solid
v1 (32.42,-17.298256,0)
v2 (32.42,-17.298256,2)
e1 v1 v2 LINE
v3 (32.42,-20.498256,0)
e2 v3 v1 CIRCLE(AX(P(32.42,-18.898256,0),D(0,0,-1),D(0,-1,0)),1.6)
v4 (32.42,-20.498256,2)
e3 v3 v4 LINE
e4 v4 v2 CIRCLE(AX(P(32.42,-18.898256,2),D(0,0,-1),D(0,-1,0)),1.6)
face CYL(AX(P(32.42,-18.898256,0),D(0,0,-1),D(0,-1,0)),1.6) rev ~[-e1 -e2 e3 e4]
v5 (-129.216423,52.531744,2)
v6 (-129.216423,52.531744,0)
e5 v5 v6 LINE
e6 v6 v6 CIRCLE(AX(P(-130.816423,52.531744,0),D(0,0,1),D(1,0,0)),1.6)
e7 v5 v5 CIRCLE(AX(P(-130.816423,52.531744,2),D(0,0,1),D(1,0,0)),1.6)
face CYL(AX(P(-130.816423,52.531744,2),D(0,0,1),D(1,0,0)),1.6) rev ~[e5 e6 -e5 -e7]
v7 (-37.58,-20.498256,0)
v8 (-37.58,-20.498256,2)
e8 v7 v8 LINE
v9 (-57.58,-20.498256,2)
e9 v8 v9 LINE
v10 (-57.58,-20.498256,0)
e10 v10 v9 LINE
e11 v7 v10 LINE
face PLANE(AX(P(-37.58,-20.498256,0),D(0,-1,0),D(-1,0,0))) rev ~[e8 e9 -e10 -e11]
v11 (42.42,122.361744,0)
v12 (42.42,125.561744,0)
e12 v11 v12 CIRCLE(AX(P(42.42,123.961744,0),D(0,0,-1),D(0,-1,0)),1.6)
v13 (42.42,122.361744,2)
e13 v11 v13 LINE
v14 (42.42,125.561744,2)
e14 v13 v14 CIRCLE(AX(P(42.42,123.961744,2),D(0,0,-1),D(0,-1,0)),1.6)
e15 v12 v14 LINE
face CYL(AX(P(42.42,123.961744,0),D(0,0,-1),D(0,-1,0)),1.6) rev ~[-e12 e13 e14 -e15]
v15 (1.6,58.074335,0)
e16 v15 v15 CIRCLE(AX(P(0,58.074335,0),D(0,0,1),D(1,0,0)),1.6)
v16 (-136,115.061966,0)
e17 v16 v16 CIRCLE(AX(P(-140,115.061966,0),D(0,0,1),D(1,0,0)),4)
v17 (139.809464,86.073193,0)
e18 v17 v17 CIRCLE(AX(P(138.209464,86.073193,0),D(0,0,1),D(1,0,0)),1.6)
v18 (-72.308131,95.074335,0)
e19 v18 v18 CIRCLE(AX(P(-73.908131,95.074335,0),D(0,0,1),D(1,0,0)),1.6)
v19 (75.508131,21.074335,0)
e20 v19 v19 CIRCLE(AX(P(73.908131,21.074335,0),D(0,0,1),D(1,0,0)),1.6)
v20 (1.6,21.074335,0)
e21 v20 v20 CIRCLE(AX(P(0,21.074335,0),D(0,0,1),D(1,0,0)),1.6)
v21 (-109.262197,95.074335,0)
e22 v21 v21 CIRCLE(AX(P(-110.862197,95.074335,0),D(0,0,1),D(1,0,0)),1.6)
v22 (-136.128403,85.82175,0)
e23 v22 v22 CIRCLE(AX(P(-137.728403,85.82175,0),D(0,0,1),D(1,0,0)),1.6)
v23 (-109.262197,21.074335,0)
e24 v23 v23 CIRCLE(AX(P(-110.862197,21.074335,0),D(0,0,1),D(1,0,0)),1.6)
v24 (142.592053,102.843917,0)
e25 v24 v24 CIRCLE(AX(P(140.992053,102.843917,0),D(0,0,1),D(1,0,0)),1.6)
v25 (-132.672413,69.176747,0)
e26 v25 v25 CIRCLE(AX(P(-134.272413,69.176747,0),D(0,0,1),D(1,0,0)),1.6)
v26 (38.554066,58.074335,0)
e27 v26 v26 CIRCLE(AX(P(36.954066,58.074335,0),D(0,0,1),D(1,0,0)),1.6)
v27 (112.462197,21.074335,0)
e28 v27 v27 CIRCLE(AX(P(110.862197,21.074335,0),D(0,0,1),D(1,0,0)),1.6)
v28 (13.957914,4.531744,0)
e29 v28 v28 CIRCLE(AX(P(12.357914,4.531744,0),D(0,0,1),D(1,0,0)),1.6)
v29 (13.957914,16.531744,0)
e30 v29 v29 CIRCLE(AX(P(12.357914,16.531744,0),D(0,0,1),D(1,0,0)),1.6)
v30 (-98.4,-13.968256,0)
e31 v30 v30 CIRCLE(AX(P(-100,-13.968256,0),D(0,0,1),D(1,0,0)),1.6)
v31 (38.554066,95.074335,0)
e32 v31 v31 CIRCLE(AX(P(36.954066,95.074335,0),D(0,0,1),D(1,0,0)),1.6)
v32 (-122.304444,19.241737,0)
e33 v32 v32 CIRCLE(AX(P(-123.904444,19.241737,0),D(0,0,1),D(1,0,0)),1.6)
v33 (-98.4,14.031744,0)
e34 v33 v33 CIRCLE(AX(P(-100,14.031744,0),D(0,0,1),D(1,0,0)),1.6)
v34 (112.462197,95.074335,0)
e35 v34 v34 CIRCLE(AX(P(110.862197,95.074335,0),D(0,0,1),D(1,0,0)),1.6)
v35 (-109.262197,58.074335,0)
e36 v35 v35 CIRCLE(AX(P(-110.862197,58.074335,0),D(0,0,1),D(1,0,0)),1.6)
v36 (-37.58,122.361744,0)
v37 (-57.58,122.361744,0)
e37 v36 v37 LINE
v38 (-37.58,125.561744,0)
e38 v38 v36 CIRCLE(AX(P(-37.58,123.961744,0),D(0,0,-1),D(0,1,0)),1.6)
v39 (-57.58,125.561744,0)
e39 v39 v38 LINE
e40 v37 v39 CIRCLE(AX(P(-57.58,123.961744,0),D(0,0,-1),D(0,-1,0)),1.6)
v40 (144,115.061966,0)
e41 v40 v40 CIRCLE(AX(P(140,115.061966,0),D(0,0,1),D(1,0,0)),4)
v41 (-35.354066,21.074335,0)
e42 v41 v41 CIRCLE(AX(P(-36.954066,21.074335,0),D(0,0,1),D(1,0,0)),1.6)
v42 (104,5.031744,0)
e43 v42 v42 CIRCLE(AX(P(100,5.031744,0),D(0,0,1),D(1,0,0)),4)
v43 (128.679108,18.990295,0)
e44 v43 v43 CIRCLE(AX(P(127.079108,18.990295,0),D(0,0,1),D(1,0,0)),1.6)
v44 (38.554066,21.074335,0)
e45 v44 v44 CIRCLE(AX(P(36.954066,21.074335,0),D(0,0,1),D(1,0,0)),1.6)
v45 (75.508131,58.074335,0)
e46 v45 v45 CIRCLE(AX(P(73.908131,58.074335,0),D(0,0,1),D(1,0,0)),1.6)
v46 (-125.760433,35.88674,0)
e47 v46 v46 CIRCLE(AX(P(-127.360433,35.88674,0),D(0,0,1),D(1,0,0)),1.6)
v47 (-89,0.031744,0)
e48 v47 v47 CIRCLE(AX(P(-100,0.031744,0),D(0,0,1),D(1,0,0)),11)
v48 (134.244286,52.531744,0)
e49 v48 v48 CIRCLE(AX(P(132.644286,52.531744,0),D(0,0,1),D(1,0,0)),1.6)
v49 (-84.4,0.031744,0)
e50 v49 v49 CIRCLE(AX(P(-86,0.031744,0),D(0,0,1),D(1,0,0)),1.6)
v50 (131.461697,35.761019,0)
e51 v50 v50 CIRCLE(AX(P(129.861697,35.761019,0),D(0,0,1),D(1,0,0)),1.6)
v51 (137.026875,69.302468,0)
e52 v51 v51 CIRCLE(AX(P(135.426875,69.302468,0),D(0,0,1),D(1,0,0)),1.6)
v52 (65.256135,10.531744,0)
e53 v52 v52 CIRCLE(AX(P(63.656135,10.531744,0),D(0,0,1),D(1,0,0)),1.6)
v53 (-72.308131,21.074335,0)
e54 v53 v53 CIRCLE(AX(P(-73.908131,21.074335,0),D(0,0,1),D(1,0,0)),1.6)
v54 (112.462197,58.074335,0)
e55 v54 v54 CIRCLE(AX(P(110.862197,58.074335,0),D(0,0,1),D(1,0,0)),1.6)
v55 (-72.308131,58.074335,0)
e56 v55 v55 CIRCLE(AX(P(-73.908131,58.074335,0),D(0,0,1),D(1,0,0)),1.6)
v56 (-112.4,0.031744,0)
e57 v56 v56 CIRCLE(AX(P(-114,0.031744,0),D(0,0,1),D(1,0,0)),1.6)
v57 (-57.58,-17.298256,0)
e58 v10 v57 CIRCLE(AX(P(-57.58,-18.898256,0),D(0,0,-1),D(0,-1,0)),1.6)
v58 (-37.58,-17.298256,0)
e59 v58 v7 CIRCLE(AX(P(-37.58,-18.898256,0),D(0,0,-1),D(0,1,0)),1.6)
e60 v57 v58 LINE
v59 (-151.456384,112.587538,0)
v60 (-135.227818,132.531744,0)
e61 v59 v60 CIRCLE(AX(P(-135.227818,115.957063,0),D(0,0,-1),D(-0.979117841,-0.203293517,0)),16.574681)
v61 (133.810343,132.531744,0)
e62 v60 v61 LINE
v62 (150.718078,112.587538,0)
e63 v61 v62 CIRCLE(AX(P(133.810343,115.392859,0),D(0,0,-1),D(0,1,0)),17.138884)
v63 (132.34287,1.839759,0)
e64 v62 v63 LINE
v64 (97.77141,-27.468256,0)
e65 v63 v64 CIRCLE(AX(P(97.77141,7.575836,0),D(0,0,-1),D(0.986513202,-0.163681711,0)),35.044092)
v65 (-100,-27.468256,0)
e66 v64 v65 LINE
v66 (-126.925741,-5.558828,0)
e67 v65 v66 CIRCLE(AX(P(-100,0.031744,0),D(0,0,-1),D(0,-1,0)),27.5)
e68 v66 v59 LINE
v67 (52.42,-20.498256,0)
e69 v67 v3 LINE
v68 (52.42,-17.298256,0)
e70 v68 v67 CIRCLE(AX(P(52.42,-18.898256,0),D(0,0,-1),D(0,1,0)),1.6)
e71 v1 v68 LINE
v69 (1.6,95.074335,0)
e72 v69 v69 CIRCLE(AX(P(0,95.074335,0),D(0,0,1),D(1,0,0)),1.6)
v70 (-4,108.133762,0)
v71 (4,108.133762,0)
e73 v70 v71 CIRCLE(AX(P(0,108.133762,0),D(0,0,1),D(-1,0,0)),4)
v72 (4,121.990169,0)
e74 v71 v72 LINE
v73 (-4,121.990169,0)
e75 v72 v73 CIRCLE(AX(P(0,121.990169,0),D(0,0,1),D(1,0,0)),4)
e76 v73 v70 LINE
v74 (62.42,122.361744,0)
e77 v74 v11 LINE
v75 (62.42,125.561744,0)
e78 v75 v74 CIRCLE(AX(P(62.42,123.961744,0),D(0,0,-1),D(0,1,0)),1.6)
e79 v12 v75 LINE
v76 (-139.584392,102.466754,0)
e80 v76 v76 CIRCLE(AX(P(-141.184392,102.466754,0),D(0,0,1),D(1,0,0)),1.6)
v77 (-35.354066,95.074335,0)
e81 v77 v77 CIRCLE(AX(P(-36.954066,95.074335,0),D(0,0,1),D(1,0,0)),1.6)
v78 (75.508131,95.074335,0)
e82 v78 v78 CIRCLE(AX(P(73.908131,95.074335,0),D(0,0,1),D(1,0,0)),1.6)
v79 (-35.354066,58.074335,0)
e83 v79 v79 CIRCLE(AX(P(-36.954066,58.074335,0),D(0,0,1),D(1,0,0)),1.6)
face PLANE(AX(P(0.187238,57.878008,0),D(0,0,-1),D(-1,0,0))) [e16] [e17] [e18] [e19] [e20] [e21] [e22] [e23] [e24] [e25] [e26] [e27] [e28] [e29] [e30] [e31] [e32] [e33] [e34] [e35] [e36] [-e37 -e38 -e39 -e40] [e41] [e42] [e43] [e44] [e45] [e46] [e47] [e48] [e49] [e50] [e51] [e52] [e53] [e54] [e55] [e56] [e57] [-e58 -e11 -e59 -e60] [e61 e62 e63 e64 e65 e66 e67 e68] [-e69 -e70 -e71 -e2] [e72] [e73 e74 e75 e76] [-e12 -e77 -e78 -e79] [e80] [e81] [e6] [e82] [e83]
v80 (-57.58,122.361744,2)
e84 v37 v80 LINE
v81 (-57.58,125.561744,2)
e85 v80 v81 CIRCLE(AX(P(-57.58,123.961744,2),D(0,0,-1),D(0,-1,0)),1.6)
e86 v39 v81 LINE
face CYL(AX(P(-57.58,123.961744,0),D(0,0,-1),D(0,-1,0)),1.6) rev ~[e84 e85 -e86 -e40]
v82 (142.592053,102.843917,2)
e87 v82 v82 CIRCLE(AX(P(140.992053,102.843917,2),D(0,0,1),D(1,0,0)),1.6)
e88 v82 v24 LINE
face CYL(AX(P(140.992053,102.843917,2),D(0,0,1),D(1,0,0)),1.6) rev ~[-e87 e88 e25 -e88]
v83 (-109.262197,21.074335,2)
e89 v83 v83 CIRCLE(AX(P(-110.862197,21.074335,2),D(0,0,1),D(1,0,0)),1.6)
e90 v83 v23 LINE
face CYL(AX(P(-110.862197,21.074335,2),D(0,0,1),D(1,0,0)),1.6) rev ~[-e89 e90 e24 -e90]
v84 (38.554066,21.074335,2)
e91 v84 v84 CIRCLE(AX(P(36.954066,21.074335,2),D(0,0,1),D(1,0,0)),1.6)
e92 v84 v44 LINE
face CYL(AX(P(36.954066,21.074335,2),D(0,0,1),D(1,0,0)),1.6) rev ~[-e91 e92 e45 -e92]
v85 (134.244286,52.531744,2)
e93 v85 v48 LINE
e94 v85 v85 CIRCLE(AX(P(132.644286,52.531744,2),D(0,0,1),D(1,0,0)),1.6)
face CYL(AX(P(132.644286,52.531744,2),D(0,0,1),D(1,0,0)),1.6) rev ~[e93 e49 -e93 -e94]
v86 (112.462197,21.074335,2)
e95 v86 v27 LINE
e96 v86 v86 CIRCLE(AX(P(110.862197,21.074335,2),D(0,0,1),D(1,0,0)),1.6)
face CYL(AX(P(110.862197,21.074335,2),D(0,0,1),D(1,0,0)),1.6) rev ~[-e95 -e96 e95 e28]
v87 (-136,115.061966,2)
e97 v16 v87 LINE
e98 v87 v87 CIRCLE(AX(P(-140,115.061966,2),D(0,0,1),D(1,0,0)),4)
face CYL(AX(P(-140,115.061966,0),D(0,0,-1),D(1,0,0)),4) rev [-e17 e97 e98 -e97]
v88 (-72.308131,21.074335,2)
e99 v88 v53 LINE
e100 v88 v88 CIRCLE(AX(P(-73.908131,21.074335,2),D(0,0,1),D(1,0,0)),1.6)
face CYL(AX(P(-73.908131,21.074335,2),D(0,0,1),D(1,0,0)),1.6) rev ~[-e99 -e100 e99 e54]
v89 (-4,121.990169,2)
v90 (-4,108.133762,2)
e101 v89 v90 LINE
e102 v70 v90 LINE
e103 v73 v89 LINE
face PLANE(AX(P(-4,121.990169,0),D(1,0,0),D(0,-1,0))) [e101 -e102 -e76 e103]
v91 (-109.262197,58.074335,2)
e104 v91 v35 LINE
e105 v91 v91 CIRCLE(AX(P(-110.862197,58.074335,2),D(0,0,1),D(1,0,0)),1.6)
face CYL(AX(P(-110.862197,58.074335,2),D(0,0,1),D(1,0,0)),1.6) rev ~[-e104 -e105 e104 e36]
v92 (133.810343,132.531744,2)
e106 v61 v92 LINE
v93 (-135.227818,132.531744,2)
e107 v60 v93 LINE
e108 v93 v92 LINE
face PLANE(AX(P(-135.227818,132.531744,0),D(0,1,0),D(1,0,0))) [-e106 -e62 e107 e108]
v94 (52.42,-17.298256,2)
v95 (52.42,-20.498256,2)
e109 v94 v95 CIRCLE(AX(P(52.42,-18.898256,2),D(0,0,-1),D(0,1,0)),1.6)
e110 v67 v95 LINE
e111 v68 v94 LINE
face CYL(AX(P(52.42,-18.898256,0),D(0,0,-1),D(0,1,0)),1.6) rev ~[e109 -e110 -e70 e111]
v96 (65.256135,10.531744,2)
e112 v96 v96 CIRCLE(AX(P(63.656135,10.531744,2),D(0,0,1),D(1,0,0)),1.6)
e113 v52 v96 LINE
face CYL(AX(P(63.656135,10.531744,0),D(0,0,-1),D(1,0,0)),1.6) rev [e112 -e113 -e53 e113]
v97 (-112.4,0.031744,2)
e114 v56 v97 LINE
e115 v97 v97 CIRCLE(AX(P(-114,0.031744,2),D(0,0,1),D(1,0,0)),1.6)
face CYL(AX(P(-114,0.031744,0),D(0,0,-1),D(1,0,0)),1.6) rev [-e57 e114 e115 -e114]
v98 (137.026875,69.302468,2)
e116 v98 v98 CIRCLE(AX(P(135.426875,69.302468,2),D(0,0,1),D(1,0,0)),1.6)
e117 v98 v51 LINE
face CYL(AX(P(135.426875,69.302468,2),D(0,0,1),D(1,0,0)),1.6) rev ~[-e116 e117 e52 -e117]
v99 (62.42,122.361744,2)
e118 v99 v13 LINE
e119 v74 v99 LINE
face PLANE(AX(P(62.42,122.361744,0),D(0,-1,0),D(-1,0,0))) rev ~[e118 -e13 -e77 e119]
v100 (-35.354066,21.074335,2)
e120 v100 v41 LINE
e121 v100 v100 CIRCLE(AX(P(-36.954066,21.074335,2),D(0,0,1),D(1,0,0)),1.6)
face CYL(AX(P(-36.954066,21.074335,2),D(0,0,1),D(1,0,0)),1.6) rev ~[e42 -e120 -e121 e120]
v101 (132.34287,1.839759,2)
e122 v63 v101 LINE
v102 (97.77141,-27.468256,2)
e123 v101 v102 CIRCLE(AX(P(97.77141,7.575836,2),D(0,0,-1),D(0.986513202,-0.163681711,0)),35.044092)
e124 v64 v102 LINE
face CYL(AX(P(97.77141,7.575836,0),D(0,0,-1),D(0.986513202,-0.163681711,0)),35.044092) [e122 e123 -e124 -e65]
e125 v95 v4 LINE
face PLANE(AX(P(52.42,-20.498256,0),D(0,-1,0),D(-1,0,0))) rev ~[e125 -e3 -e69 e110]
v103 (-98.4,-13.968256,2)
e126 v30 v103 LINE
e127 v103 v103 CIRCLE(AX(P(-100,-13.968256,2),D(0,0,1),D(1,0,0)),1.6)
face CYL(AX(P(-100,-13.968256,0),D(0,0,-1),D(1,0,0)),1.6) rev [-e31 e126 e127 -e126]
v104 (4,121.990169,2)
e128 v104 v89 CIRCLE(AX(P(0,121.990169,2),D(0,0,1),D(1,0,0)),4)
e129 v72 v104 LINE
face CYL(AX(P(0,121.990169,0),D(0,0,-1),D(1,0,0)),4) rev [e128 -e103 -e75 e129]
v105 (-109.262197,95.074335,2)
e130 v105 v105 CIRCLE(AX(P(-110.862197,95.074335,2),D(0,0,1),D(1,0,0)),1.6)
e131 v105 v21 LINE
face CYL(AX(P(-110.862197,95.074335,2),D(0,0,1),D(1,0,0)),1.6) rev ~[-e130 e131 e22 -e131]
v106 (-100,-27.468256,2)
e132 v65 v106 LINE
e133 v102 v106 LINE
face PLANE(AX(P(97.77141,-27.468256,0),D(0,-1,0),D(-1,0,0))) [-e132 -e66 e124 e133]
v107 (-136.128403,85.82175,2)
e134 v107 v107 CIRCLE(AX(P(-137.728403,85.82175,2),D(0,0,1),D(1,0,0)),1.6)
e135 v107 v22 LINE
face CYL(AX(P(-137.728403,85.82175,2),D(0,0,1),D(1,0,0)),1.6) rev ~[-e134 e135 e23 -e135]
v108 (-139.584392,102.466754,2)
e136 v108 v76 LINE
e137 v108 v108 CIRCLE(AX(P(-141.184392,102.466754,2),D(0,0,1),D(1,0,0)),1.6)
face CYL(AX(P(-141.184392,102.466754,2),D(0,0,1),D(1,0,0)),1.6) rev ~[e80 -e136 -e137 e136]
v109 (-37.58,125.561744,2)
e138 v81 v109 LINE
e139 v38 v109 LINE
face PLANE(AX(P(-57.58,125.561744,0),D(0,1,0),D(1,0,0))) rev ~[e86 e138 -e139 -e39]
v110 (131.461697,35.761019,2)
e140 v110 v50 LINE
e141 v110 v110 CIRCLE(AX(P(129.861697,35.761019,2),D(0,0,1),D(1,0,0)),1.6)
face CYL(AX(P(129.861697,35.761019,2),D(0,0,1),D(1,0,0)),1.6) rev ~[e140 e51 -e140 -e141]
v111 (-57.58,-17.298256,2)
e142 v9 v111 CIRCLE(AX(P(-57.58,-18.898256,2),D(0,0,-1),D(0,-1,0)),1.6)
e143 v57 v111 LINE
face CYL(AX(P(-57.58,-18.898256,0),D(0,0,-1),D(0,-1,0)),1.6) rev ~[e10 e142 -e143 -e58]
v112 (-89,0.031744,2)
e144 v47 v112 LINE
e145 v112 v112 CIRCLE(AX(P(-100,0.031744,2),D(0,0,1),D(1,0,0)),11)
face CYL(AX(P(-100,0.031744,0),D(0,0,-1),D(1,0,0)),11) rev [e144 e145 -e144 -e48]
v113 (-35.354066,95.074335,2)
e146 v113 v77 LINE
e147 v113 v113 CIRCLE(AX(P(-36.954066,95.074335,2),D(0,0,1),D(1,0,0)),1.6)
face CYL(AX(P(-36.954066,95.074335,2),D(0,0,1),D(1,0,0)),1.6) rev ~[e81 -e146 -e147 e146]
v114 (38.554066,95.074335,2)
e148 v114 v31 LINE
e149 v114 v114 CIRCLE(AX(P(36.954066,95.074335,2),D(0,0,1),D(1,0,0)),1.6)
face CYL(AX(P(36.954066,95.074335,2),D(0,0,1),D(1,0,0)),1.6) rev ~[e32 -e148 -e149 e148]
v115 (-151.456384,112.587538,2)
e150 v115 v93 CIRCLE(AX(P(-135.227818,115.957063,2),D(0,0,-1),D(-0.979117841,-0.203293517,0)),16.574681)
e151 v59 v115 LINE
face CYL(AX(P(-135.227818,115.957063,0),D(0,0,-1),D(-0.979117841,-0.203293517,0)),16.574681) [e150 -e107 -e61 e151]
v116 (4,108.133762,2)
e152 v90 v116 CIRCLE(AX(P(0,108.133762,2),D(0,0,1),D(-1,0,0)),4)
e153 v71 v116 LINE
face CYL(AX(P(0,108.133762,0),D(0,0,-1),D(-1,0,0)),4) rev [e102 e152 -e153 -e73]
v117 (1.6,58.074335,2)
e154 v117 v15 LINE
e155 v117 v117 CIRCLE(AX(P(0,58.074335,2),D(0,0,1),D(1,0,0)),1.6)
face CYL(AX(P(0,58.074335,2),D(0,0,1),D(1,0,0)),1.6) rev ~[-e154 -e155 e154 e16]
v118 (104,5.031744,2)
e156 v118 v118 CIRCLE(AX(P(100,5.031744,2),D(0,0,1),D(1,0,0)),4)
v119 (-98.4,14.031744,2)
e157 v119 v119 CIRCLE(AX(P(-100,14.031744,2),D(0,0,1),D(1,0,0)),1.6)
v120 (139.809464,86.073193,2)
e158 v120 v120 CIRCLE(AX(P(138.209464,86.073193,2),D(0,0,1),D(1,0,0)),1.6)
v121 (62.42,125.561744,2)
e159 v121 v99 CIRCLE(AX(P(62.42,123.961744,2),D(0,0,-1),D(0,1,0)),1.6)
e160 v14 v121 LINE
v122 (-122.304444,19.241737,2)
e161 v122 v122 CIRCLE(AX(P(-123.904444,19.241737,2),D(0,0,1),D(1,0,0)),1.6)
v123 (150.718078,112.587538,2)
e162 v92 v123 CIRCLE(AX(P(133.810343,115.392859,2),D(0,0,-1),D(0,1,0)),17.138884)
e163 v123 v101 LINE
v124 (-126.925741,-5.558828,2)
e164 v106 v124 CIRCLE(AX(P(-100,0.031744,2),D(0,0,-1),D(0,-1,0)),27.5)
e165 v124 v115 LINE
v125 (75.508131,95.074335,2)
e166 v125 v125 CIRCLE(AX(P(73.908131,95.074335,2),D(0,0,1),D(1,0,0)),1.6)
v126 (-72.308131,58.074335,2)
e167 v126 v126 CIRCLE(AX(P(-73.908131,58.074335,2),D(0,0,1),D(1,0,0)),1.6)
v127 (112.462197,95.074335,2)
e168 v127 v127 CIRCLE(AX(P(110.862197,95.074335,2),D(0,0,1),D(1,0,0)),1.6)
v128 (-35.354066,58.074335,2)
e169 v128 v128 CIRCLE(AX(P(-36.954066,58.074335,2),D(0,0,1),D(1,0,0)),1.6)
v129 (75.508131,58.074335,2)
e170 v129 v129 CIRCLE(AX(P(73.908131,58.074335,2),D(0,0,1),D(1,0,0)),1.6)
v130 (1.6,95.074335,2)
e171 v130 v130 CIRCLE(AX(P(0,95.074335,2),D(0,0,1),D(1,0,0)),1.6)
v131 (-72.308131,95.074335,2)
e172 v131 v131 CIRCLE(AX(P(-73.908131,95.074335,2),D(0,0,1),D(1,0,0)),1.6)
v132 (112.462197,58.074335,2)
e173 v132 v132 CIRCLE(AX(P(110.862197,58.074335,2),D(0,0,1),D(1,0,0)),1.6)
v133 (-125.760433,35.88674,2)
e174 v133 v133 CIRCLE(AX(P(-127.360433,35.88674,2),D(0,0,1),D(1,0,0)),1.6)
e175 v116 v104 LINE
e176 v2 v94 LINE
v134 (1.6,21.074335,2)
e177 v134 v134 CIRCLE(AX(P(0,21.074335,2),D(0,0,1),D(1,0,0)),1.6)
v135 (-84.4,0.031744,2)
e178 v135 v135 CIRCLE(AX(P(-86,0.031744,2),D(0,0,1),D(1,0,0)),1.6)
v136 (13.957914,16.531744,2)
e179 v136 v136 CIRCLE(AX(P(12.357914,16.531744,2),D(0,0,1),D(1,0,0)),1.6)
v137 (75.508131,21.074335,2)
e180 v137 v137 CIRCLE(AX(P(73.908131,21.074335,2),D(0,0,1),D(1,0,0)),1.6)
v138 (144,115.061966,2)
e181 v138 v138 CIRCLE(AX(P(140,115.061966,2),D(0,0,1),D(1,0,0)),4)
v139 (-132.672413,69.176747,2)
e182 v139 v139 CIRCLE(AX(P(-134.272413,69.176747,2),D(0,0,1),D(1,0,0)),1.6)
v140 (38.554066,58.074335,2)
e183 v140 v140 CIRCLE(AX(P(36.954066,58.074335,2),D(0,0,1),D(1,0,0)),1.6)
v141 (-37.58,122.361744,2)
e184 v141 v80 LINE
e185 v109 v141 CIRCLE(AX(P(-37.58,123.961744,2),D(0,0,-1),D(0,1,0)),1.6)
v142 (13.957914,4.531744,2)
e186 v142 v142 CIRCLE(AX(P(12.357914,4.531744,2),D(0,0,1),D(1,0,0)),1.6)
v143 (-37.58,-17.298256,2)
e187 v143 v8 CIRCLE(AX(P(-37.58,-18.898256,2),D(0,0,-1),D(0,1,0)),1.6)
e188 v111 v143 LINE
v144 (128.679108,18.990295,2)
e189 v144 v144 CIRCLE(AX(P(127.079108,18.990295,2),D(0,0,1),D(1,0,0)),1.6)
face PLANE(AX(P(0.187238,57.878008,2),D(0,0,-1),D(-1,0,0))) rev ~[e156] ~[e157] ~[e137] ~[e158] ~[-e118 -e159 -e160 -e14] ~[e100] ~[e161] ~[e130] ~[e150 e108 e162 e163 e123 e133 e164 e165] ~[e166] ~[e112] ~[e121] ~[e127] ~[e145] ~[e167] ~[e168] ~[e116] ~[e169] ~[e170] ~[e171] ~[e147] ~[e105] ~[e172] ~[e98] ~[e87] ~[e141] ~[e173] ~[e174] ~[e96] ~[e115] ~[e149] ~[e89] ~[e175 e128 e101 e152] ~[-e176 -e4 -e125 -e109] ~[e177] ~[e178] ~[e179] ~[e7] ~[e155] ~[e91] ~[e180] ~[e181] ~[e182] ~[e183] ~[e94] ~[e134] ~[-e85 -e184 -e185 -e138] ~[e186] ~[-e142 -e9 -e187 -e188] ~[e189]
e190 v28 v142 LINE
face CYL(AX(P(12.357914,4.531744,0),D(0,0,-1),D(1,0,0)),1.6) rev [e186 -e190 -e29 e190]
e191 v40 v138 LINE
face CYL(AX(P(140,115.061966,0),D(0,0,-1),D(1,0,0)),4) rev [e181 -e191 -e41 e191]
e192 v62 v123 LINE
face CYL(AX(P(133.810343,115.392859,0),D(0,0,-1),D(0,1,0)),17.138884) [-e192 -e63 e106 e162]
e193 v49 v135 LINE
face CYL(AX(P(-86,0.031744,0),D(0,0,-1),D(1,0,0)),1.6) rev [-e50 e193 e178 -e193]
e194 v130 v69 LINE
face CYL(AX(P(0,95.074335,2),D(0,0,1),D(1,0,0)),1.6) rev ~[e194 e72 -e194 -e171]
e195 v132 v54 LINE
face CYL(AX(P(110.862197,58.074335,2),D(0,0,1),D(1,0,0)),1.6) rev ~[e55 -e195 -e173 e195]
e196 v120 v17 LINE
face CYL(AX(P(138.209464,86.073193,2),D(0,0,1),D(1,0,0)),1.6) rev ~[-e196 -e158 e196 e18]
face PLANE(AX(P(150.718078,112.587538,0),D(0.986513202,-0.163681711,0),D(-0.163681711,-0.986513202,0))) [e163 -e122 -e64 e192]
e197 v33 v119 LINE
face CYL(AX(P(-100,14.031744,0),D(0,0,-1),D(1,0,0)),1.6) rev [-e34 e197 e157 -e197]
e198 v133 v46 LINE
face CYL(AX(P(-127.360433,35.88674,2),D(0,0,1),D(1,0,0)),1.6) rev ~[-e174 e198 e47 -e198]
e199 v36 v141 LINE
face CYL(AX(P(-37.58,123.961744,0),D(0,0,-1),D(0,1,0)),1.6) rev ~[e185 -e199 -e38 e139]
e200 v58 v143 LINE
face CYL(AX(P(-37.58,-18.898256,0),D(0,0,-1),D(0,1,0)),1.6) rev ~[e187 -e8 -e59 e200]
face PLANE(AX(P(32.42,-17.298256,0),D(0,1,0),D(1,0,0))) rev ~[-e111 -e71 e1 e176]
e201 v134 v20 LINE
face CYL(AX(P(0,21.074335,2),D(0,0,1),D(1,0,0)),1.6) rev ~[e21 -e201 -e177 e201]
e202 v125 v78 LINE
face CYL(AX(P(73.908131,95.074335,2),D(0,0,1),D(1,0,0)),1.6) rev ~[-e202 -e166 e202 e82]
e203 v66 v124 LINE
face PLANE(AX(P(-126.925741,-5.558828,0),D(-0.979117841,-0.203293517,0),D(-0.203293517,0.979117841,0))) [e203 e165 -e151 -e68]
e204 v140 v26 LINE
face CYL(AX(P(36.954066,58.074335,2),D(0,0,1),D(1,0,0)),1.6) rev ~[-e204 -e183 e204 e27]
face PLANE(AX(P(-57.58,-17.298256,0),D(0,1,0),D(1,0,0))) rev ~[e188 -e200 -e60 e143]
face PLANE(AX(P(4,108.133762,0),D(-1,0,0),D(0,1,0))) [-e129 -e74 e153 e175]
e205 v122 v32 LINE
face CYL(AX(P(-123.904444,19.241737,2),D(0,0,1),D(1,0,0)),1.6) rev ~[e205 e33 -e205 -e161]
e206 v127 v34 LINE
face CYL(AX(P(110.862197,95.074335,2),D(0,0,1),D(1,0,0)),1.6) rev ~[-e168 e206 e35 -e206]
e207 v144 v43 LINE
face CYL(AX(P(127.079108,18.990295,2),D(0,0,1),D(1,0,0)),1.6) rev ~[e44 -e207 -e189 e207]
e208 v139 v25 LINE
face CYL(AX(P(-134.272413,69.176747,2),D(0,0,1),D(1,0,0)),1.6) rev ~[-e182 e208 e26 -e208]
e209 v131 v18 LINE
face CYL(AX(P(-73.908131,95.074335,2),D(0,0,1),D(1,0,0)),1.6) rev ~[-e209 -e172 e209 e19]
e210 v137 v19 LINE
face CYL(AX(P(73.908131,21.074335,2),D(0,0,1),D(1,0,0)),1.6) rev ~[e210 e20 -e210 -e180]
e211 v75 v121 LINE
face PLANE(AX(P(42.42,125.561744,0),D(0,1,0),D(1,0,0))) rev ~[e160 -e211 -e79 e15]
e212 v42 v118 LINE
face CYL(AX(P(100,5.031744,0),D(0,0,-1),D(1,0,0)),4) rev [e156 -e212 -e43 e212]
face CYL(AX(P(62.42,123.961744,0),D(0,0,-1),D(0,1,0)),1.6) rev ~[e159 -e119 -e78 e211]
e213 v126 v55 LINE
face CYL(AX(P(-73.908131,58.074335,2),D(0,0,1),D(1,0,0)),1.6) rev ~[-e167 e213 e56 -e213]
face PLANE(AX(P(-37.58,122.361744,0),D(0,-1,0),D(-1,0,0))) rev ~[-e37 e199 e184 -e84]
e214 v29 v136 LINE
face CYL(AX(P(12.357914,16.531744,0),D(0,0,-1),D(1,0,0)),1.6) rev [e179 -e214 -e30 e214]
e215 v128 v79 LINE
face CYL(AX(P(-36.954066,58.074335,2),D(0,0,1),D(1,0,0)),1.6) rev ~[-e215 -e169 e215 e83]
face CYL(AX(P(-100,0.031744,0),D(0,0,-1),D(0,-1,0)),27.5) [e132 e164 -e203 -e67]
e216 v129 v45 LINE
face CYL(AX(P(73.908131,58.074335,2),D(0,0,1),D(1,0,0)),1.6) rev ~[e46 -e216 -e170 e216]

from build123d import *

# Parameters (mm, degrees)
SKETCH3_R           = 1.6
SKETCH3_R_2         = 11
SKETCH3_R_3         = 4
BOSS_EXTRUDE1_DEPTH = 2
CUT_EXTRUDE3_DEPTH  = 3
SKETCH7_R           = 1.6
CUT_EXTRUDE4_DEPTH  = 3


with BuildPart() as part:
    # Sketch3 → Boss-Extrude1 (new body)
    with BuildSketch(Plane.XY):
        with BuildLine():
            ThreePointArc((-151.456383586, 112.587537538), (-148.084116861, 126.418210974), (-135.227817714, 132.531743734))
            Line((-135.227817714, 132.531743734), (133.810342842, 132.531743734))
            ThreePointArc((133.810342842, 132.531743734), (146.883625567, 126.475757693), (150.718078468, 112.587537538))
            Line((150.718078468, 112.587537538), (132.342869895, 1.839758932))
            ThreePointArc((132.342869895, 1.839758932), (120.43275171, -19.155269629), (97.771410342, -27.468256266))
            Line((97.771410342, -27.468256266), (-100, -27.468256266))
            ThreePointArc((-100, -27.468256266), (-117.356688592, -21.298876537), (-126.925740619, -5.558827984))
            Line((-126.925740619, -5.558827984), (-151.456383586, 112.587537538))
        make_face()
        with Locations((-114, 0.031743734)):
            Circle(SKETCH3_R, mode=Mode.SUBTRACT)
        with Locations((-100, -13.968256266)):
            Circle(SKETCH3_R, mode=Mode.SUBTRACT)
        with Locations((-86, 0.031743734)):
            Circle(SKETCH3_R, mode=Mode.SUBTRACT)
        with Locations((-100, 14.031743734)):
            Circle(SKETCH3_R, mode=Mode.SUBTRACT)
        with Locations((12.357913989, 16.531743734)):
            Circle(SKETCH3_R, mode=Mode.SUBTRACT)
        with Locations((12.357913989, 4.531743734)):
            Circle(SKETCH3_R, mode=Mode.SUBTRACT)
        with Locations((63.65613527, 10.531743734)):
            Circle(SKETCH3_R, mode=Mode.SUBTRACT)
        with Locations((-100, 0.031743734)):
            Circle(SKETCH3_R_2, mode=Mode.SUBTRACT)
        with Locations((100, 5.031743734)):
            Circle(SKETCH3_R_3, mode=Mode.SUBTRACT)
        with Locations((140, 115.061965544)):
            Circle(SKETCH3_R_3, mode=Mode.SUBTRACT)
        with Locations((-140, 115.061965544)):
            Circle(SKETCH3_R_3, mode=Mode.SUBTRACT)
        with BuildLine():
            ThreePointArc((-4, 108.133762314), (0, 104.133762314), (4, 108.133762314))
            Line((4, 108.133762314), (4, 121.990168775))
            ThreePointArc((4, 121.990168775), (0, 125.990168775), (-4, 121.990168775))
            Line((-4, 121.990168775), (-4, 108.133762314))
        make_face(mode=Mode.SUBTRACT)
    extrude(amount=BOSS_EXTRUDE1_DEPTH)

    # Sketch6 → Cut-Extrude3 (cut, through all)
    with BuildSketch(Plane.XY):
        with BuildLine():
            Line((-57.58, -17.298256266), (-37.58, -17.298256266))
            ThreePointArc((-37.58, -17.298256266), (-35.98, -18.898256266), (-37.58, -20.498256266))
            Line((-37.58, -20.498256266), (-57.58, -20.498256266))
            ThreePointArc((-57.58, -20.498256266), (-59.18, -18.898256266), (-57.58, -17.298256266))
        make_face()
        with BuildLine():
            Line((32.42, -17.298256266), (52.42, -17.298256266))
            ThreePointArc((52.42, -17.298256266), (54.02, -18.898256266), (52.42, -20.498256266))
            Line((52.42, -20.498256266), (32.42, -20.498256266))
            ThreePointArc((32.42, -20.498256266), (30.82, -18.898256266), (32.42, -17.298256266))
        make_face()
        with BuildLine():
            Line((-57.58, 125.561743734), (-37.58, 125.561743734))
            ThreePointArc((-37.58, 125.561743734), (-35.98, 123.961743734), (-37.58, 122.361743734))
            Line((-37.58, 122.361743734), (-57.58, 122.361743734))
            ThreePointArc((-57.58, 122.361743734), (-59.18, 123.961743734), (-57.58, 125.561743734))
        make_face()
        with BuildLine():
            Line((42.42, 125.561743734), (62.42, 125.561743734))
            ThreePointArc((62.42, 125.561743734), (64.02, 123.961743734), (62.42, 122.361743734))
            Line((62.42, 122.361743734), (42.42, 122.361743734))
            ThreePointArc((42.42, 122.361743734), (40.82, 123.961743734), (42.42, 125.561743734))
        make_face()
    extrude(amount=CUT_EXTRUDE3_DEPTH, mode=Mode.SUBTRACT)

    # Sketch7 → Cut-Extrude4 (cut, through all)
    with BuildSketch(Plane.XY.offset(2)):
        with Locations((-110.862196782, 95.074335332)):
            Circle(SKETCH7_R)
        with Locations((-73.908131188, 95.074335332)):
            Circle(SKETCH7_R)
        with Locations((-36.954065594, 95.074335332)):
            Circle(SKETCH7_R)
        with Locations((0, 95.074335332)):
            Circle(SKETCH7_R)
        with Locations((36.954065594, 95.074335332)):
            Circle(SKETCH7_R)
        with Locations((73.908131188, 95.074335332)):
            Circle(SKETCH7_R)
        with Locations((110.862196782, 95.074335332)):
            Circle(SKETCH7_R)
        with Locations((-73.908131188, 58.074335332)):
            Circle(SKETCH7_R)
        with Locations((-36.954065594, 58.074335332)):
            Circle(SKETCH7_R)
        with Locations((0, 58.074335332)):
            Circle(SKETCH7_R)
        with Locations((36.954065594, 58.074335332)):
            Circle(SKETCH7_R)
        with Locations((73.908131188, 58.074335332)):
            Circle(SKETCH7_R)
        with Locations((110.862196782, 58.074335332)):
            Circle(SKETCH7_R)
        with Locations((-73.908131188, 21.074335332)):
            Circle(SKETCH7_R)
        with Locations((-36.954065594, 21.074335332)):
            Circle(SKETCH7_R)
        with Locations((0, 21.074335332)):
            Circle(SKETCH7_R)
        with Locations((36.954065594, 21.074335332)):
            Circle(SKETCH7_R)
        with Locations((73.908131188, 21.074335332)):
            Circle(SKETCH7_R)
        with Locations((110.862196782, 21.074335332)):
            Circle(SKETCH7_R)
        with Locations((-110.862196782, 58.074335332)):
            Circle(SKETCH7_R)
        with Locations((-110.862196782, 21.074335332)):
            Circle(SKETCH7_R)
        with Locations((-141.184392471, 102.466753609)):
            Circle(SKETCH7_R)
        with Locations((-137.728402681, 85.821750317)):
            Circle(SKETCH7_R)
        with Locations((-134.272412891, 69.176747026)):
            Circle(SKETCH7_R)
        with Locations((-130.816423102, 52.531743734)):
            Circle(SKETCH7_R)
        with Locations((-127.360433312, 35.886740443)):
            Circle(SKETCH7_R)
        with Locations((-123.904443522, 19.241737151)):
            Circle(SKETCH7_R)
        with Locations((140.992053056, 102.843917034)):
            Circle(SKETCH7_R)
        with Locations((138.209463976, 86.0731926)):
            Circle(SKETCH7_R)
        with Locations((135.426874896, 69.302468167)):
            Circle(SKETCH7_R)
        with Locations((132.644285816, 52.531743734)):
            Circle(SKETCH7_R)
        with Locations((129.861696736, 35.761019301)):
            Circle(SKETCH7_R)
        with Locations((127.079107656, 18.990294868)):
            Circle(SKETCH7_R)
    extrude(amount=-CUT_EXTRUDE4_DEPTH, mode=Mode.SUBTRACT)


solid = part.part
